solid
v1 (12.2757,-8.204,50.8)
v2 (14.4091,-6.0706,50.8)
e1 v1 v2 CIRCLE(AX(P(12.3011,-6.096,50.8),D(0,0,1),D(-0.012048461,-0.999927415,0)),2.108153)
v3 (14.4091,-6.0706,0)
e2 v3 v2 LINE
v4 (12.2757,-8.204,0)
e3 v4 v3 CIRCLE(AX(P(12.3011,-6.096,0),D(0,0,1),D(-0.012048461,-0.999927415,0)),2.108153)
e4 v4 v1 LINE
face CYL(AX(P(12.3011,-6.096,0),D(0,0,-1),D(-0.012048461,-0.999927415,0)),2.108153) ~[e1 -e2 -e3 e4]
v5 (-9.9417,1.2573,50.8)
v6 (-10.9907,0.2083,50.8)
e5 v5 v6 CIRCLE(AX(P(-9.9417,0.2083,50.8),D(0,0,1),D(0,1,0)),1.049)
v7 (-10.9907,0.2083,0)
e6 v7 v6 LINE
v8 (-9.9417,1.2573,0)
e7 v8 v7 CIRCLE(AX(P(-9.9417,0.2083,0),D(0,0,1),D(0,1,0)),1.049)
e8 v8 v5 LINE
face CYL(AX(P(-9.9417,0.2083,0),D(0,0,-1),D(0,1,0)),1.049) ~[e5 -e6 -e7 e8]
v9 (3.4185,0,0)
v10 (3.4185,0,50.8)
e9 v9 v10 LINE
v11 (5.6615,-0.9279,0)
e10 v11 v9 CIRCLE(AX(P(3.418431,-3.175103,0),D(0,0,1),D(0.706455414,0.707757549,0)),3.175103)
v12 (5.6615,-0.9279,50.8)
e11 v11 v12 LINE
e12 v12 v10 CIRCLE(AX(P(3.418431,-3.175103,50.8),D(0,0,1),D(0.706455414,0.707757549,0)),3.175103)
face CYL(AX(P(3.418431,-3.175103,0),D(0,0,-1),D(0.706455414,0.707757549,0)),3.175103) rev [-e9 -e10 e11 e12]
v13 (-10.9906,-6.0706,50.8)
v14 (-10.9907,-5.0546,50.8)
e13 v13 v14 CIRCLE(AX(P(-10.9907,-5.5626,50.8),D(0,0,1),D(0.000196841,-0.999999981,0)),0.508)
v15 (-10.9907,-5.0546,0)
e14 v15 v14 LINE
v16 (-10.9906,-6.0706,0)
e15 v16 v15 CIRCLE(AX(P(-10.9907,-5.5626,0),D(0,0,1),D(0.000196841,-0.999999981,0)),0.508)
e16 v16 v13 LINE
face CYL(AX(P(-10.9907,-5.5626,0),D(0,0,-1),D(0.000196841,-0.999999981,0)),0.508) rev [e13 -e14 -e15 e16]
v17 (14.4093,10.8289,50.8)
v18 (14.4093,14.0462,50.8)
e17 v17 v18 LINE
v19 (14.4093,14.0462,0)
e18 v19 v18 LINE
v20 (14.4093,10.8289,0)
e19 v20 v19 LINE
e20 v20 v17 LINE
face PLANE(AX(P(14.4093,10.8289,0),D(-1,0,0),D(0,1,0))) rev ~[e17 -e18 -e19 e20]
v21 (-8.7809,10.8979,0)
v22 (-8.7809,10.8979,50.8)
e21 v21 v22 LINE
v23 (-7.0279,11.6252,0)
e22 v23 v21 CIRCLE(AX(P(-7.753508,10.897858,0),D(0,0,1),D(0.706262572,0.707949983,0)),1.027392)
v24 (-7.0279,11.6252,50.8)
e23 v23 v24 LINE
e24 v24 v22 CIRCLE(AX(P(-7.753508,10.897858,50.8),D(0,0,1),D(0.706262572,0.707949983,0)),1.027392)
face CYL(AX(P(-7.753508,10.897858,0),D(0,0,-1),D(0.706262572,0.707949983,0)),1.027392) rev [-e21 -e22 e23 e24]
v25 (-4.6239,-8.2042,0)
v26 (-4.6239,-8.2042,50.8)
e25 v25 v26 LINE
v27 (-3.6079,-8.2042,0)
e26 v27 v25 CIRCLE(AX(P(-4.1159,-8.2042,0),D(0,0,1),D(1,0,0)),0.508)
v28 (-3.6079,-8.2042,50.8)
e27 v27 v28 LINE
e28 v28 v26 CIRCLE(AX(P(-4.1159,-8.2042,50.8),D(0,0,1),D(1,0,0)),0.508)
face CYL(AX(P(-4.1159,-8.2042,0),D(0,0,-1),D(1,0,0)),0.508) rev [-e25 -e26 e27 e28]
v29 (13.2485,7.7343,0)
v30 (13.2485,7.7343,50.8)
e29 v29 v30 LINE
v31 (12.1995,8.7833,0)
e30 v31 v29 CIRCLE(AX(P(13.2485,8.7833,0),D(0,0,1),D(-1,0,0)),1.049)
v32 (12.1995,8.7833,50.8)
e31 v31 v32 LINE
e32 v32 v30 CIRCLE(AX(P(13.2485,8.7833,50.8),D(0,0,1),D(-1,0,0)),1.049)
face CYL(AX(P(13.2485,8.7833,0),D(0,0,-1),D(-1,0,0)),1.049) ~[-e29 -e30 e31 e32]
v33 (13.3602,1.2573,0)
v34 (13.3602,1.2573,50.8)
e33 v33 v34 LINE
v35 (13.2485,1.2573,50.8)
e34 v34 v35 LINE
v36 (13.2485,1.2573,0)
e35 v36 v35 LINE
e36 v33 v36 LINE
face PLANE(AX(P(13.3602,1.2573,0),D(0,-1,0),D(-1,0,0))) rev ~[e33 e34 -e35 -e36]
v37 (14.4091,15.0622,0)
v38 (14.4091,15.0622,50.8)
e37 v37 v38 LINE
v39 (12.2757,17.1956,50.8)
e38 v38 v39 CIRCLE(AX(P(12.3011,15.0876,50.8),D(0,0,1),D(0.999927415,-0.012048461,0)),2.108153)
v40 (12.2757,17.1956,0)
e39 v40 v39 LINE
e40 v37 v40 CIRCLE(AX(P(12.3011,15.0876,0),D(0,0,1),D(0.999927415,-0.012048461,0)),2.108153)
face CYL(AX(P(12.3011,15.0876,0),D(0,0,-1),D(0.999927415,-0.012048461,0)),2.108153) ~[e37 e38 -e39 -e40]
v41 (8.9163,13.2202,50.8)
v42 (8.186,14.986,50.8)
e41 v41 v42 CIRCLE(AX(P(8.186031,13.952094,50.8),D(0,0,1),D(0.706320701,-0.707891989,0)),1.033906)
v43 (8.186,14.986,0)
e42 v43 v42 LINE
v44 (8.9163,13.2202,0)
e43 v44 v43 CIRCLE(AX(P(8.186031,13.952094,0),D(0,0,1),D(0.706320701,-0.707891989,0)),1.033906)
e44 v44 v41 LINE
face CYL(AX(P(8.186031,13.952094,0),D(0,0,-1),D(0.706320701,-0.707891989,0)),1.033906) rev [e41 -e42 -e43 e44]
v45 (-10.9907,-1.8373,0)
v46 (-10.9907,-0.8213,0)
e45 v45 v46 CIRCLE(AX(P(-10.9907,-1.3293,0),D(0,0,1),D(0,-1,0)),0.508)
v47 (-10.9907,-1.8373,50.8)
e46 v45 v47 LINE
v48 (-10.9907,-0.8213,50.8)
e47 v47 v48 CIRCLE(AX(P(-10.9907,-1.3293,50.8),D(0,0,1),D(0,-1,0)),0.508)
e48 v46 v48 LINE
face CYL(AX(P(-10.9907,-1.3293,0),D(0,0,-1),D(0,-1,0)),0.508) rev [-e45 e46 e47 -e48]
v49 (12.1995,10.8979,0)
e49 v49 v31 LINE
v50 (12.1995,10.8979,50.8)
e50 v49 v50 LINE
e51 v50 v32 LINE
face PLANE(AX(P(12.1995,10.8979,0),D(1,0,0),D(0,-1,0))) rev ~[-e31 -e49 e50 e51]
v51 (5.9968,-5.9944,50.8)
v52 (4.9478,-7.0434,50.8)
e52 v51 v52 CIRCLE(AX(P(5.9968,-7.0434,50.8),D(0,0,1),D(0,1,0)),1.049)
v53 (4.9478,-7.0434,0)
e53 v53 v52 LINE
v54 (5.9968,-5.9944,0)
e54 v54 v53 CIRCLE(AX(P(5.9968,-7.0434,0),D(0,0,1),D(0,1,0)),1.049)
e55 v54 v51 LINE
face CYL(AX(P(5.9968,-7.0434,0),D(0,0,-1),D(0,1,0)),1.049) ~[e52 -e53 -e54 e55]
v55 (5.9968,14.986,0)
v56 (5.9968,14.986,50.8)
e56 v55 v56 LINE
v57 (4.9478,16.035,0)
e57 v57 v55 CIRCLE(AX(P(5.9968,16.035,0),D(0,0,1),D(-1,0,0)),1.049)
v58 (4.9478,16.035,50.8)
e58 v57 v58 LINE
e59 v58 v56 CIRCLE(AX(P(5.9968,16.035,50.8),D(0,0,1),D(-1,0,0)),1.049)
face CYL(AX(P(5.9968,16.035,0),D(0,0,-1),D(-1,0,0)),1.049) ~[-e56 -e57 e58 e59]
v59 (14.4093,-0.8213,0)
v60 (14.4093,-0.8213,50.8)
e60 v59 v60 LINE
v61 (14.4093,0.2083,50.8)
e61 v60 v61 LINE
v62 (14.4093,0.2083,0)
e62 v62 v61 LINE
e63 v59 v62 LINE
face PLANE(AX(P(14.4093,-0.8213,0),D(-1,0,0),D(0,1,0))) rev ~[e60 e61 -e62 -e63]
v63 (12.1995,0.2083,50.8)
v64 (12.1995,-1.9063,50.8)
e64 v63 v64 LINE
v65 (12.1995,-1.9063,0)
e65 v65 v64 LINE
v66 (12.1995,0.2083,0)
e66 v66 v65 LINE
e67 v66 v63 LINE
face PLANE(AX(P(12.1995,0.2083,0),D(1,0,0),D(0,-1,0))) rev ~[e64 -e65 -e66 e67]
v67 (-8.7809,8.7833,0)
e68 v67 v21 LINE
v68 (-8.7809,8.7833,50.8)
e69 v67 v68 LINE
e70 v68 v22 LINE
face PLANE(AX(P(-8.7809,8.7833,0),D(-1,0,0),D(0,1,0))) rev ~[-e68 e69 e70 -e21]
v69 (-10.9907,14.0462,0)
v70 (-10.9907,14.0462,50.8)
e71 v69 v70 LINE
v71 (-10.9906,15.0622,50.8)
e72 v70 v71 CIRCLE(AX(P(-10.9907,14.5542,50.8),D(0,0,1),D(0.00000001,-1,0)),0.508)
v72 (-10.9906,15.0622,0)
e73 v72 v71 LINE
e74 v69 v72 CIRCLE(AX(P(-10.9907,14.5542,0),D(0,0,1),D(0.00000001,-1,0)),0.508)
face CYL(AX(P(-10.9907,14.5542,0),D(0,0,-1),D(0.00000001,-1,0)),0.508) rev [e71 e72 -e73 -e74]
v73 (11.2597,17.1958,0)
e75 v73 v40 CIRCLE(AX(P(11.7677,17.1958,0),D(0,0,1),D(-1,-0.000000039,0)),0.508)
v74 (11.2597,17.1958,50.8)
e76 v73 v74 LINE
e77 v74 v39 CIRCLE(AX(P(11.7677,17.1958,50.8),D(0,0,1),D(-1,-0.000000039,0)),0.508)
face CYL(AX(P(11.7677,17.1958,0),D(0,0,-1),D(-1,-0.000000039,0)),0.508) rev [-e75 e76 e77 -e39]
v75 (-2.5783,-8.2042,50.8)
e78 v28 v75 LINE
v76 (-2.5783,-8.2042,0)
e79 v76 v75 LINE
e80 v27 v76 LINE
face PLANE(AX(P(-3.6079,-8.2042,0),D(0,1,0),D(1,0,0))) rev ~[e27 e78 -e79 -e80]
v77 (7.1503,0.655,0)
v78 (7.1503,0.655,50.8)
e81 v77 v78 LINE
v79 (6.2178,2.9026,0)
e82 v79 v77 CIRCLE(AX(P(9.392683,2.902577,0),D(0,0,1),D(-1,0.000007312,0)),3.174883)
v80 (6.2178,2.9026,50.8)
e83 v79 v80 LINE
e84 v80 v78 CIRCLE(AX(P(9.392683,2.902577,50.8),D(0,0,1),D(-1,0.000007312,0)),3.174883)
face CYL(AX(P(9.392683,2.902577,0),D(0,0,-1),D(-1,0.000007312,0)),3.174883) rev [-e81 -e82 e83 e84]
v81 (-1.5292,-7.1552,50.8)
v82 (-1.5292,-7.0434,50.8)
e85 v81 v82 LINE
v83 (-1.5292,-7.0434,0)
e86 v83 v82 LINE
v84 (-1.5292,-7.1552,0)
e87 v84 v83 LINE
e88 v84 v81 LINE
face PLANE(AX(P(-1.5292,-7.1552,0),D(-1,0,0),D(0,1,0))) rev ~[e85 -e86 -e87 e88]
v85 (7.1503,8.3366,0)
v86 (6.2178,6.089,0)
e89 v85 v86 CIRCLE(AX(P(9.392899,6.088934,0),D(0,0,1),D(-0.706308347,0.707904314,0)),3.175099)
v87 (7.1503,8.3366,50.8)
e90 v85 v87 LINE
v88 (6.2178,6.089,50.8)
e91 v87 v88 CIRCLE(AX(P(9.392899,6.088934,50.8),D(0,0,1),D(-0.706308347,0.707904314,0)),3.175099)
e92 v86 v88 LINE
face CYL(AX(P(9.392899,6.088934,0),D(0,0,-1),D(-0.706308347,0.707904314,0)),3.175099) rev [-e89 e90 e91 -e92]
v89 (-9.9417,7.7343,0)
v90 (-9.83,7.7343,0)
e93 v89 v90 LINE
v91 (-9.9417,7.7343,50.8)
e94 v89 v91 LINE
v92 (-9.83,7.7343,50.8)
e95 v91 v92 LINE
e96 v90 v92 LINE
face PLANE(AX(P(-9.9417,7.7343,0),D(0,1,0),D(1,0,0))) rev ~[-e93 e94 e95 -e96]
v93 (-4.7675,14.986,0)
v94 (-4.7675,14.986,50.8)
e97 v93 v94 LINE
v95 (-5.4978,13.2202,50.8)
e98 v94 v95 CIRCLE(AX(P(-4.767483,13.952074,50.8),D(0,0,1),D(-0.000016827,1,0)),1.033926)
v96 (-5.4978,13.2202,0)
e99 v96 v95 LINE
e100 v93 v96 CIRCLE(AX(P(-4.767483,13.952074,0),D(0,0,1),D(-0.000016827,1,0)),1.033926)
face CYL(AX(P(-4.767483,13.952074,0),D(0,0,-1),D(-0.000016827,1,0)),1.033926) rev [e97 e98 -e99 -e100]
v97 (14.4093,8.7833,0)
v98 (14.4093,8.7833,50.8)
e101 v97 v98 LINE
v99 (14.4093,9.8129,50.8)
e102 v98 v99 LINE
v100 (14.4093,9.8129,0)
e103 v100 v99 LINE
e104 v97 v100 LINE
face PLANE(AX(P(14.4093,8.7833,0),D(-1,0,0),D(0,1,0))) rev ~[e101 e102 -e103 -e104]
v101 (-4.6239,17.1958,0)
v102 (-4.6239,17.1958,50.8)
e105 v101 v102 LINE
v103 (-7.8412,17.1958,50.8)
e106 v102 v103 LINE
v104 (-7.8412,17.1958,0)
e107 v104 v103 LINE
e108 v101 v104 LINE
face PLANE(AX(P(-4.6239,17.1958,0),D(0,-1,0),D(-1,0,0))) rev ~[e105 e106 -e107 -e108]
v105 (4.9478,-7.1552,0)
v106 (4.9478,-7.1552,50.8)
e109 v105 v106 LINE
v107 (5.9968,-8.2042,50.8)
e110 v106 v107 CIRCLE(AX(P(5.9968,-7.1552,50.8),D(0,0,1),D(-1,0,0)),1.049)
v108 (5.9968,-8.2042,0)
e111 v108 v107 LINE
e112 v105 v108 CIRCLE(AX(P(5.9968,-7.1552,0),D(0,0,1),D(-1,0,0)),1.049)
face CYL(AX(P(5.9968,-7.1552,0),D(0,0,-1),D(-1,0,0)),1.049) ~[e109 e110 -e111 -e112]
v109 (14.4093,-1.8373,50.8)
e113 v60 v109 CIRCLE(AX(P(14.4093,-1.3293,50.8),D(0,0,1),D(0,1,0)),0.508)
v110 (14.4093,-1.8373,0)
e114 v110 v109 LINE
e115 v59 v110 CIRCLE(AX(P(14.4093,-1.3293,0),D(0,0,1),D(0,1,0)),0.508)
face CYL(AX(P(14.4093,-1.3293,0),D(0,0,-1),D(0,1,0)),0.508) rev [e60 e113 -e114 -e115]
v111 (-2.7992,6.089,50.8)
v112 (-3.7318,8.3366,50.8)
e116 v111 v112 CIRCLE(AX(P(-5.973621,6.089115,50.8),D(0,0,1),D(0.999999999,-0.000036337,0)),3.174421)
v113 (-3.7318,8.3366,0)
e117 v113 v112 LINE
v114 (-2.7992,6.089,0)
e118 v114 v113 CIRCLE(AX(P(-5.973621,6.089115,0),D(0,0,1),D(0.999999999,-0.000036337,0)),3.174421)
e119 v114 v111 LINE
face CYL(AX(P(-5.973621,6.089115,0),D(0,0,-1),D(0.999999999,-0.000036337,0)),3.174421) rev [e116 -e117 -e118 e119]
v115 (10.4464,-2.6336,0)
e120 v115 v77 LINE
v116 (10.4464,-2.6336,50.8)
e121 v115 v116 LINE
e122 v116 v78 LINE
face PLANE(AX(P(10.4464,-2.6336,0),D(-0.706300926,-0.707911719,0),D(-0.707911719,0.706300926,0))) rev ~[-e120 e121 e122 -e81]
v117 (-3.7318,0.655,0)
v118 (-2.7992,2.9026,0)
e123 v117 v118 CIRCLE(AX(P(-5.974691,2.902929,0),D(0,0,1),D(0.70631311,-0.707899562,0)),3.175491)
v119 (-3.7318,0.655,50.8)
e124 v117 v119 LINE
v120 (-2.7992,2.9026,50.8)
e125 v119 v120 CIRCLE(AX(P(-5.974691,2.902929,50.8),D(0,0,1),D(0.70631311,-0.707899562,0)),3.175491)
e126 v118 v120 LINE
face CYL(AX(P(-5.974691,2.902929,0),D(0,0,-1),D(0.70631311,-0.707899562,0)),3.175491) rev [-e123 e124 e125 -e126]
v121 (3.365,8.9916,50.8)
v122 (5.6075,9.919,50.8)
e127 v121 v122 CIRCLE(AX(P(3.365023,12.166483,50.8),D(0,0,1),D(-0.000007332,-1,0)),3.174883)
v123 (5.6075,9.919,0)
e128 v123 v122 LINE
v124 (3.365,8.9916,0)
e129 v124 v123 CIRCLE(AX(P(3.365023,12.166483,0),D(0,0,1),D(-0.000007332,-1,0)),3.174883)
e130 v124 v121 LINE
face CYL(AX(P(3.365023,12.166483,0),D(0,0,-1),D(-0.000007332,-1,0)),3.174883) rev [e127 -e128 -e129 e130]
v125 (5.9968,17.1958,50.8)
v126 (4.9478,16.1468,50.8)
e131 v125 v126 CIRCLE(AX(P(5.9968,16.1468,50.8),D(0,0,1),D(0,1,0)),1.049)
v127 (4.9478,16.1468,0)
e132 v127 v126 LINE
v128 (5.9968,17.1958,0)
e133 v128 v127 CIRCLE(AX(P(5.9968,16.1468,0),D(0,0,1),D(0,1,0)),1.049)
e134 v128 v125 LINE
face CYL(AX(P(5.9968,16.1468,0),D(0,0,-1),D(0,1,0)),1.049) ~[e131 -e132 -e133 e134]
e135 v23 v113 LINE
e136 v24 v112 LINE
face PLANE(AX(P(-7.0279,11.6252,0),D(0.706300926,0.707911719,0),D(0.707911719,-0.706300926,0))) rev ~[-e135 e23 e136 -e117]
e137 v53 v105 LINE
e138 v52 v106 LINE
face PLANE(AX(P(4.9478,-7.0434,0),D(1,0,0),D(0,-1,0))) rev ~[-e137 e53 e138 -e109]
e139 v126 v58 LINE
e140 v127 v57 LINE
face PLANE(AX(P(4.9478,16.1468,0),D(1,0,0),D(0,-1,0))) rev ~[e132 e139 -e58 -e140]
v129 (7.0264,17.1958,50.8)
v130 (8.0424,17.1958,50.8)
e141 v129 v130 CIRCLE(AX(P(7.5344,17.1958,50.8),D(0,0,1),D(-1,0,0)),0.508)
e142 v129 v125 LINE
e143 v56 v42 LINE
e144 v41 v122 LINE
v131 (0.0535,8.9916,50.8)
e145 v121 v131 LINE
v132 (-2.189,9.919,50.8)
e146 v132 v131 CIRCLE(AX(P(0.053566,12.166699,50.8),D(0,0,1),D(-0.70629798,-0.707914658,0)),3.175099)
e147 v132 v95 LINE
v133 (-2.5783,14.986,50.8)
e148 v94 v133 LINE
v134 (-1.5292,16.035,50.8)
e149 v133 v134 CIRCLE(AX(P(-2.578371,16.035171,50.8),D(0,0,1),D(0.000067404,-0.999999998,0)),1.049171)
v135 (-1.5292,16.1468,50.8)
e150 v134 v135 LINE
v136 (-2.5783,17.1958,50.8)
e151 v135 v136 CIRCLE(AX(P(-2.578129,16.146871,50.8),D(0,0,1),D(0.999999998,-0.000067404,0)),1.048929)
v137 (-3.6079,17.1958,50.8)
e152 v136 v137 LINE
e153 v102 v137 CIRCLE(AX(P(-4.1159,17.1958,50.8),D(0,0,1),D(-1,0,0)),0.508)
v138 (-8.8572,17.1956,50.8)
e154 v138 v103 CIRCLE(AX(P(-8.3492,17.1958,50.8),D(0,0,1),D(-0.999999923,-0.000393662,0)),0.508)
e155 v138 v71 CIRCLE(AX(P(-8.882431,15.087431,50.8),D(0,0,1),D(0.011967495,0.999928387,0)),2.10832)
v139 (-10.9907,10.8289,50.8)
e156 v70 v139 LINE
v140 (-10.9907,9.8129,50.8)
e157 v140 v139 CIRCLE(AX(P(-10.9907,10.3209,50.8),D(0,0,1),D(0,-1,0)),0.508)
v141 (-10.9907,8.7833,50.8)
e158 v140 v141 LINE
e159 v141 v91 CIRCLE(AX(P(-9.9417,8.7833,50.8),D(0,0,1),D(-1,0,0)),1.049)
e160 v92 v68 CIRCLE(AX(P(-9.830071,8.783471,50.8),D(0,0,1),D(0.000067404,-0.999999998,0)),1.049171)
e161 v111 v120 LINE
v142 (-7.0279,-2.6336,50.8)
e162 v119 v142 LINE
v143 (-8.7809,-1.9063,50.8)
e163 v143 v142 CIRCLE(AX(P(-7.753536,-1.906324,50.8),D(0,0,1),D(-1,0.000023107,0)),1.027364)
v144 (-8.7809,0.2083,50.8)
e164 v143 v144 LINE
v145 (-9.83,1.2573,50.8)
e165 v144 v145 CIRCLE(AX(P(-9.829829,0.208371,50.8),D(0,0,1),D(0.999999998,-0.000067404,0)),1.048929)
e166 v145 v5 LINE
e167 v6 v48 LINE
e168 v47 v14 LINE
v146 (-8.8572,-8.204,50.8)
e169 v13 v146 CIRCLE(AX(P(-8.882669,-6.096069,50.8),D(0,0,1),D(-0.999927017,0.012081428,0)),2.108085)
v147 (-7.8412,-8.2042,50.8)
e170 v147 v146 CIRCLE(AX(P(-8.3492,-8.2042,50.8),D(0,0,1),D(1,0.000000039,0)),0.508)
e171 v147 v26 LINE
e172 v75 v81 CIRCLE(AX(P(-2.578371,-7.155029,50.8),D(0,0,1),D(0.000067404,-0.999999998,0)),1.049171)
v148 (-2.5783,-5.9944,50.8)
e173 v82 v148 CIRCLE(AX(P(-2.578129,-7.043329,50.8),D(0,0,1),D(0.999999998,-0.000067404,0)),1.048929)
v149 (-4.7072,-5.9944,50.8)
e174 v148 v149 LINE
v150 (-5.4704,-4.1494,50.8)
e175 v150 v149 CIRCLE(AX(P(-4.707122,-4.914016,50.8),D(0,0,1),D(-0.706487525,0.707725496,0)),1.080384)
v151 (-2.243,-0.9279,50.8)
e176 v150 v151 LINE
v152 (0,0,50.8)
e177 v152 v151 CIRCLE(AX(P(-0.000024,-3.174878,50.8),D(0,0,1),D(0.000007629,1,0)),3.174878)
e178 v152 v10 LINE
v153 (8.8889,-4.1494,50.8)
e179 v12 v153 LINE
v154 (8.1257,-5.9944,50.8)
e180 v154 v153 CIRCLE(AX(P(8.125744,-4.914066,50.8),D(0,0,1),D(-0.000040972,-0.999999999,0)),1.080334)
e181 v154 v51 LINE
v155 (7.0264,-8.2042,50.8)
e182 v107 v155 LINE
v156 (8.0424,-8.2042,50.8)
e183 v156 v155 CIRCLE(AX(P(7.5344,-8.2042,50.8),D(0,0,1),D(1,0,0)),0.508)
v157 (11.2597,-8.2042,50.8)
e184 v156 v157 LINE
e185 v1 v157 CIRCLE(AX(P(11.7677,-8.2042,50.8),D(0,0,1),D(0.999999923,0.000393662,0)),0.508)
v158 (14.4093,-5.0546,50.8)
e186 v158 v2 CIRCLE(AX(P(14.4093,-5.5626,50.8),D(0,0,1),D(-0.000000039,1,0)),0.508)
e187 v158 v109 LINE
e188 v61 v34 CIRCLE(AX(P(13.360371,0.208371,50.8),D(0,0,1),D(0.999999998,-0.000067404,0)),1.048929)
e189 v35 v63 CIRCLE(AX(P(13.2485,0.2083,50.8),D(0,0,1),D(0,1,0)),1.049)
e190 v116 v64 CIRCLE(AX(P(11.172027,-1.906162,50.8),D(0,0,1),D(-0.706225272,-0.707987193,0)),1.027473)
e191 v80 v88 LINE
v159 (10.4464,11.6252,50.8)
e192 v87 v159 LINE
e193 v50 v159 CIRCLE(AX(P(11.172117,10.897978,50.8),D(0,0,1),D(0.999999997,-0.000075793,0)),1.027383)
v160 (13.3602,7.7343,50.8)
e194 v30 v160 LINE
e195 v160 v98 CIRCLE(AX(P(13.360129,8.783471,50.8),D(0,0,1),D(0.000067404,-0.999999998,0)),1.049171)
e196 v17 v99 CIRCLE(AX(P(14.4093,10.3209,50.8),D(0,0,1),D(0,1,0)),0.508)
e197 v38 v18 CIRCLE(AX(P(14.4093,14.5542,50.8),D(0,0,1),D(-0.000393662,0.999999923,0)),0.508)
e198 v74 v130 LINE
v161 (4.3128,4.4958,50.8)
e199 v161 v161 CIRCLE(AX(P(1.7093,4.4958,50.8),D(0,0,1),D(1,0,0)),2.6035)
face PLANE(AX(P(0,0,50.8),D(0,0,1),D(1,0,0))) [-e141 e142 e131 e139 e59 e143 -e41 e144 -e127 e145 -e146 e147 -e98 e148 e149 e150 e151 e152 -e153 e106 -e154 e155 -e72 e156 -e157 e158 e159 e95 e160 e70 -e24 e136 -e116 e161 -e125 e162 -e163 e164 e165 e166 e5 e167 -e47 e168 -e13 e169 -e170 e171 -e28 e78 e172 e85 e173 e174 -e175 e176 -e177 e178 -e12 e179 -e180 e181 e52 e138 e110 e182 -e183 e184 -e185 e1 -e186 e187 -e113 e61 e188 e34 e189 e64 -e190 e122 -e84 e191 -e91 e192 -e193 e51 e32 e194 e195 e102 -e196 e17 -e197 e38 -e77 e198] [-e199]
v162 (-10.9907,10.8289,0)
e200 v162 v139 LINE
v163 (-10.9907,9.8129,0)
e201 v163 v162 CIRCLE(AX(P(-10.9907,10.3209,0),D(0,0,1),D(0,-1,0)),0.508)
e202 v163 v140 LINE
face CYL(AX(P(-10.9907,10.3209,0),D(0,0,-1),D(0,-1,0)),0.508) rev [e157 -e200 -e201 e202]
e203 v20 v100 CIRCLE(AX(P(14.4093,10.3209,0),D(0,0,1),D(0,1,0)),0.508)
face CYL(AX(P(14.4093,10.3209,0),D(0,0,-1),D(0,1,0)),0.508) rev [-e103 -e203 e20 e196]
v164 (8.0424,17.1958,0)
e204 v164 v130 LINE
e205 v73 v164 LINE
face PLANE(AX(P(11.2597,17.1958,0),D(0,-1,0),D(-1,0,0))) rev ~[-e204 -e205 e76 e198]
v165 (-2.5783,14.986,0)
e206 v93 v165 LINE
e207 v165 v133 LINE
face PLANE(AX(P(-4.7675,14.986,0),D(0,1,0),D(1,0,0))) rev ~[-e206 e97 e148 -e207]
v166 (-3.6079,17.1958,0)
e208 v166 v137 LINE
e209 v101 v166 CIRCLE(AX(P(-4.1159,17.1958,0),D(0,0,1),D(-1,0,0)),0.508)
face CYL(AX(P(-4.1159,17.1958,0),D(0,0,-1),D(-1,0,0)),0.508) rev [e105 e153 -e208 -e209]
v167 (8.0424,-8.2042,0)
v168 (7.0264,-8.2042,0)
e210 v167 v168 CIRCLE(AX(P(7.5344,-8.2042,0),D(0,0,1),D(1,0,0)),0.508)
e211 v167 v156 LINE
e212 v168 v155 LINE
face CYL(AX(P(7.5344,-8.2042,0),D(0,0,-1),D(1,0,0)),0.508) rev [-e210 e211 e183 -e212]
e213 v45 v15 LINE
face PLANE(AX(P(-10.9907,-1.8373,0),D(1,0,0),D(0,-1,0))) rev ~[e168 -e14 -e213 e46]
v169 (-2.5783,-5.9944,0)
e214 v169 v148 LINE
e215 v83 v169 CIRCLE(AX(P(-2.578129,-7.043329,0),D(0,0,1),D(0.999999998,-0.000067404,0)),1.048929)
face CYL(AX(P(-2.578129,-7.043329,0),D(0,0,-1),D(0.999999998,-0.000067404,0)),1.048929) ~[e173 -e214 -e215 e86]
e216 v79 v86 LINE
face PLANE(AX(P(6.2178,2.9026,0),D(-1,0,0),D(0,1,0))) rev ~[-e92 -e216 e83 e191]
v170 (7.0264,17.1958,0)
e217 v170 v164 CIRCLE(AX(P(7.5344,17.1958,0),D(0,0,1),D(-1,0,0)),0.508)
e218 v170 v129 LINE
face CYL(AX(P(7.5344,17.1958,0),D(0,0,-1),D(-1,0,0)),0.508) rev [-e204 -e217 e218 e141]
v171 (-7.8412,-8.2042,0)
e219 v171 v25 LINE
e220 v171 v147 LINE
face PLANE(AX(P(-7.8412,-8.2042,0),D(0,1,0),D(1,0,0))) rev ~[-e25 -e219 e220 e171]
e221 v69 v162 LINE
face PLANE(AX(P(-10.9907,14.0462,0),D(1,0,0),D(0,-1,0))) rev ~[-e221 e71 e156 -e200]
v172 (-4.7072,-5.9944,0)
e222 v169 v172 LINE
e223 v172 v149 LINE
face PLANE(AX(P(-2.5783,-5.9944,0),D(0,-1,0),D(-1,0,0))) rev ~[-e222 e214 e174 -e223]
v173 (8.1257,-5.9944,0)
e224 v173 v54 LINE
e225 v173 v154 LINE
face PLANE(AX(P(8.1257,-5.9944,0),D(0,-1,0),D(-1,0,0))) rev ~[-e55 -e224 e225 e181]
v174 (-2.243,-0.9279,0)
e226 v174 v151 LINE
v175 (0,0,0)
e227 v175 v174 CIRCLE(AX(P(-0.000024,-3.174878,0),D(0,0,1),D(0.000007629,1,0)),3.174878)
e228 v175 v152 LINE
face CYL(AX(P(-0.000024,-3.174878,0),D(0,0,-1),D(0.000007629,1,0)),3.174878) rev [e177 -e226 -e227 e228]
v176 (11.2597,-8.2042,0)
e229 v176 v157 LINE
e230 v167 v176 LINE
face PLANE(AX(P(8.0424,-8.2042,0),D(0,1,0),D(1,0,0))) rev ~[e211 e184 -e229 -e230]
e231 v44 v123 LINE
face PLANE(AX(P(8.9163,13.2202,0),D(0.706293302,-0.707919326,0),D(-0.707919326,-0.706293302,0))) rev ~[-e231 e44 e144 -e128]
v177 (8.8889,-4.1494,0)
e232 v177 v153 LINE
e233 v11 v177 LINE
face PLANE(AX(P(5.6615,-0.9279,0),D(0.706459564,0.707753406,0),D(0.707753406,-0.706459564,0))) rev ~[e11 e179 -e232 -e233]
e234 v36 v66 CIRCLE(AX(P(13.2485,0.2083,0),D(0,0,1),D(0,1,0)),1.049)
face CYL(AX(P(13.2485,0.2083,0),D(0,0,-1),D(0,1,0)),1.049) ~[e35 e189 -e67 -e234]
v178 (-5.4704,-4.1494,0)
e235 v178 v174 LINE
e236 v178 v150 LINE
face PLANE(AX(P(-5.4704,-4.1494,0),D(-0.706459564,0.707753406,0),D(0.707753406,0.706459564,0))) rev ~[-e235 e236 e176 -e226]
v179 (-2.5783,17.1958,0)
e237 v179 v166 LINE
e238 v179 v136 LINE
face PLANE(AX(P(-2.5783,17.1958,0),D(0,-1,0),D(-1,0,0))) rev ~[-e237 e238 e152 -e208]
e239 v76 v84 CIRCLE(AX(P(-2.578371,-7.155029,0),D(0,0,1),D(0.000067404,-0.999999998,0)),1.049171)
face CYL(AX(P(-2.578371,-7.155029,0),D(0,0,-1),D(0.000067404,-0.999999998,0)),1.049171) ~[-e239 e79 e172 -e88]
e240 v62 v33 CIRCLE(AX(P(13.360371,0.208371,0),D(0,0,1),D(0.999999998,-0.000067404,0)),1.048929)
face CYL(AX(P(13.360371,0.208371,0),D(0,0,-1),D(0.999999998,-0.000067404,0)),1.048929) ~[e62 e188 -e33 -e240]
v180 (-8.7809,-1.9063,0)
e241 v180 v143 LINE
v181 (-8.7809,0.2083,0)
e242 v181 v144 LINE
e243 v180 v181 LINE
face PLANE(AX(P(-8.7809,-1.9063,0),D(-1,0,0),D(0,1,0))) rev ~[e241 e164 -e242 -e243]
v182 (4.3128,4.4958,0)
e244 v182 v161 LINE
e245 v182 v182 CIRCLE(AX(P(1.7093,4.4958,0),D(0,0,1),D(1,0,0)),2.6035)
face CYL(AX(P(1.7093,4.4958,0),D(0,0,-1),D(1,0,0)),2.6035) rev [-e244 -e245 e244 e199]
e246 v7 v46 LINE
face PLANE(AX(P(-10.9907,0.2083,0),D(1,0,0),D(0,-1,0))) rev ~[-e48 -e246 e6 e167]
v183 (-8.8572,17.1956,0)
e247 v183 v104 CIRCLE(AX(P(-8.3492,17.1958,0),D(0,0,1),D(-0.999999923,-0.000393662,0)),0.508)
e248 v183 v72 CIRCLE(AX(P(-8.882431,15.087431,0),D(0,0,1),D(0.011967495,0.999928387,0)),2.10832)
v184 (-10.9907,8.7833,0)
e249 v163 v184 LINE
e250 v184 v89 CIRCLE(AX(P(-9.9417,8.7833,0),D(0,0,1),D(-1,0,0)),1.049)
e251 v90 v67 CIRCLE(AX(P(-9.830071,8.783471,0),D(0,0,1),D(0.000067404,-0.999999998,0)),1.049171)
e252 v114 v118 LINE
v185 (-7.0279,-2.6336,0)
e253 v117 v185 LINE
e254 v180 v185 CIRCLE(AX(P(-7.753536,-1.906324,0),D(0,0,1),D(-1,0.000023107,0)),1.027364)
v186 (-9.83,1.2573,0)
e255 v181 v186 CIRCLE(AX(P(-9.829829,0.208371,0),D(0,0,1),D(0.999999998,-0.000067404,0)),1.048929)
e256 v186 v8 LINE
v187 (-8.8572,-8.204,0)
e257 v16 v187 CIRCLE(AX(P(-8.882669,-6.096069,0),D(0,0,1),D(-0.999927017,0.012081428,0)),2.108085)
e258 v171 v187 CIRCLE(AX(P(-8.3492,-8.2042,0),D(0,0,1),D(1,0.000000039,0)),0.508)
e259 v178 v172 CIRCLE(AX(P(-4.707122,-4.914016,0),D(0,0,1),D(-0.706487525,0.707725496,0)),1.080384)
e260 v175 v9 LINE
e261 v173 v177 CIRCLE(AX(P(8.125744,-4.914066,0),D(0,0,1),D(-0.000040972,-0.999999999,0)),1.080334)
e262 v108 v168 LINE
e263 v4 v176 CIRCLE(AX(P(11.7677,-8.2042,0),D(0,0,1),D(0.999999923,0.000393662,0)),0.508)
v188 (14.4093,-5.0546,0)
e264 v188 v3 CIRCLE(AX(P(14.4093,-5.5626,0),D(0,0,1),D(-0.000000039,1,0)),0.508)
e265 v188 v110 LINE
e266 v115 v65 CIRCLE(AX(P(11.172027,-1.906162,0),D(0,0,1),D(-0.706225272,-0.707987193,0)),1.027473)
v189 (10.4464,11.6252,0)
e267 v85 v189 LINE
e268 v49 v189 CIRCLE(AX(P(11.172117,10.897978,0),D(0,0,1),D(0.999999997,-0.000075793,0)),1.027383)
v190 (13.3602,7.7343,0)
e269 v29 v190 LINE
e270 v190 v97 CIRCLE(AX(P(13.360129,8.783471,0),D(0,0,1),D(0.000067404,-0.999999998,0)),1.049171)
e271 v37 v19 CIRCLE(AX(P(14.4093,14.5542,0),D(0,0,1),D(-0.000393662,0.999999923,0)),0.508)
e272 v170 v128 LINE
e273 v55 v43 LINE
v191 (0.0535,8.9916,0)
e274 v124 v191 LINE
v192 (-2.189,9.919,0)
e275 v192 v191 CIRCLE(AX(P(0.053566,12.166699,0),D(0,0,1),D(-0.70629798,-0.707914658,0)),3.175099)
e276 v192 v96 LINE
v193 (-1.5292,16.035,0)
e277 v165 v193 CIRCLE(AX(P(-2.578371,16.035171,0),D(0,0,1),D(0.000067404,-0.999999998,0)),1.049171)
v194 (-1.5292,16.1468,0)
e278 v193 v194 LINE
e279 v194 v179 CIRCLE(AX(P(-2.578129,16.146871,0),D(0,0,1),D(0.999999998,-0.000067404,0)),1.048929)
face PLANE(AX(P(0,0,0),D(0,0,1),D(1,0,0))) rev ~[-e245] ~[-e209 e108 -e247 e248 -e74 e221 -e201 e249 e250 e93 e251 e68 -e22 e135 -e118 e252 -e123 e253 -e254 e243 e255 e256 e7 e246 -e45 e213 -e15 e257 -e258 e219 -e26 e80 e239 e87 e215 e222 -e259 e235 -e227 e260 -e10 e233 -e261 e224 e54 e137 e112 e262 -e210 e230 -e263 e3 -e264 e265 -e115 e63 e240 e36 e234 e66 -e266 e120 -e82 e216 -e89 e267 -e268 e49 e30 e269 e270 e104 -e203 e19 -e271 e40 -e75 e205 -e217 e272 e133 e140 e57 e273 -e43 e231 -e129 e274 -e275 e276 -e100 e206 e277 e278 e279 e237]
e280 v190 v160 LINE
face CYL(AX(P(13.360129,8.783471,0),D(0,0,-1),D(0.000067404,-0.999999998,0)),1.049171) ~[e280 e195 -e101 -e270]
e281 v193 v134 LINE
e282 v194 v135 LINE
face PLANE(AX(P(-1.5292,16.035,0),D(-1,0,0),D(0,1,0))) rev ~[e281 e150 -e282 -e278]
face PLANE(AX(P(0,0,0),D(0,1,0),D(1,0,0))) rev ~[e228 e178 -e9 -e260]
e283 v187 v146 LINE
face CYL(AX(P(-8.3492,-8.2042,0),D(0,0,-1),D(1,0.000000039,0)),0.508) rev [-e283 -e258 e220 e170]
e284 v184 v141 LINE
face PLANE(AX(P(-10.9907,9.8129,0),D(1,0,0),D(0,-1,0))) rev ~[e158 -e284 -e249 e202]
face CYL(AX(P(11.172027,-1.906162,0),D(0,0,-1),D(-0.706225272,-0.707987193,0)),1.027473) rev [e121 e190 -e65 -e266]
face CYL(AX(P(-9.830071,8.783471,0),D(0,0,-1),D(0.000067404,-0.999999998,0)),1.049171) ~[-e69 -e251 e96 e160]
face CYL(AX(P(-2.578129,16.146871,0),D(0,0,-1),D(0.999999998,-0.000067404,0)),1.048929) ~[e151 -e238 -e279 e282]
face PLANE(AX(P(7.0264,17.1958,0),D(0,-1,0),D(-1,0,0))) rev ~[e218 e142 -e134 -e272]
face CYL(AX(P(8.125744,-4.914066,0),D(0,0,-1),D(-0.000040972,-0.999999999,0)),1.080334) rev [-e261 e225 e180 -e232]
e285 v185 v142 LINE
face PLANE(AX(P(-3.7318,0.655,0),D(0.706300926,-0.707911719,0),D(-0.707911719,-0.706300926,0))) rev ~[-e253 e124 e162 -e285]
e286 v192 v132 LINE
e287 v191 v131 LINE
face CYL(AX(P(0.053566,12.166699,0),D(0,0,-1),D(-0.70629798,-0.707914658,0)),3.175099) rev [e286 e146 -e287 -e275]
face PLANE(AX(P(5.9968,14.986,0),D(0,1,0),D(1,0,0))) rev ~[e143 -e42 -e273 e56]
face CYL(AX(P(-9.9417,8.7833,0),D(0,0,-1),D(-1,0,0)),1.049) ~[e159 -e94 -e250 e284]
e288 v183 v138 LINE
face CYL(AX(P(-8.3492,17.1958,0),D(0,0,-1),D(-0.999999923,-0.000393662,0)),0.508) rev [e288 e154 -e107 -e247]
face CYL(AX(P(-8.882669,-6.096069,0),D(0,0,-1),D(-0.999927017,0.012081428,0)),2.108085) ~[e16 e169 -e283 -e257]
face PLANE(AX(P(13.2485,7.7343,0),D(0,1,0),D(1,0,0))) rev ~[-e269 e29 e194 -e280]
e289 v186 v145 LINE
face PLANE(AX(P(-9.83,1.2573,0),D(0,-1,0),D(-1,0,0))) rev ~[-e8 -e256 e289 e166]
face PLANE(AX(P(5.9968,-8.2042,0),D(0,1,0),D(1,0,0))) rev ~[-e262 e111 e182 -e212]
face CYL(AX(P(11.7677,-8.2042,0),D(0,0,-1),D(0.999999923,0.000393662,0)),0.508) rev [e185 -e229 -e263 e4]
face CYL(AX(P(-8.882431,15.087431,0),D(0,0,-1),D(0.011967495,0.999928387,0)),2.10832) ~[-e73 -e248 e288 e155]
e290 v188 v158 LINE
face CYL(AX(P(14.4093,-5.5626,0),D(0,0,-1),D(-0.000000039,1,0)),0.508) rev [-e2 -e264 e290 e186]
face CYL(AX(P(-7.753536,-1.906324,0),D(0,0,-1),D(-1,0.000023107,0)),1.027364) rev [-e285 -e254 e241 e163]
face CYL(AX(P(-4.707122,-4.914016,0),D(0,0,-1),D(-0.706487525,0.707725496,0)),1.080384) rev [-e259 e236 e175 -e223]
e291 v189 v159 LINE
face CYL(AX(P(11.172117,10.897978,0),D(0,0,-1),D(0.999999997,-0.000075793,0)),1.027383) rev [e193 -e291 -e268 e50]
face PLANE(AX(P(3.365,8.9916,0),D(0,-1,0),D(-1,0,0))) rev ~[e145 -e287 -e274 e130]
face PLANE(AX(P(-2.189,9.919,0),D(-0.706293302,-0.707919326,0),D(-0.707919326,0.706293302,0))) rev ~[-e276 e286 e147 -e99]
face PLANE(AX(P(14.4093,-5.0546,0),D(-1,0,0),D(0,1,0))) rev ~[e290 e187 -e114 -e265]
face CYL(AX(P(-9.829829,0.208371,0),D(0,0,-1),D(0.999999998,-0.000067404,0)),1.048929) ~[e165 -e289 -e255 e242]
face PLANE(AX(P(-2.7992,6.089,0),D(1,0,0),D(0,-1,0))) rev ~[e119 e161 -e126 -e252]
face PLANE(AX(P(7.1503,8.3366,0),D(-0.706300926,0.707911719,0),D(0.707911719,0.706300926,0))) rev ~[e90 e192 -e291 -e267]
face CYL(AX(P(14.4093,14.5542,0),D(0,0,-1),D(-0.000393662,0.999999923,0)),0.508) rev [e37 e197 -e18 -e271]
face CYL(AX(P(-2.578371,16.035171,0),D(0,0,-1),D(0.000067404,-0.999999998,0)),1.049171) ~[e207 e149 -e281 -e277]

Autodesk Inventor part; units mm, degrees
ref_plane "YZ Plane" through (0, 0, 0) normal (1, 0, 0) x (0, 1, 0)
ref_plane "XZ Plane" through (0, 0, 0) normal (0, 1, 0) x (-1, 0, 0)
ref_plane "XY Plane" through (0, 0, 0) normal (0, 0, 1) x (1, 0, 0)
sketch "Sketch1" plane through (0, 0, 0) normal (0, 0, 1) x (1, 0, 0)
  arc A0 (-5.4704, -4.1494) -> (-4.7072, -5.9944) centre (-4.7072, -4.914) ccw
  line L0 (-5.4704, -4.1494) -> (-2.243, -0.9279)
  arc A1 (0, 0) -> (-2.243, -0.9279) centre (0, -3.175) ccw
  line L1 (0, 0) -> (3.4185, 0)
  arc A2 (5.6615, -0.9279) -> (3.4185, 0) centre (3.4185, -3.175) ccw
  line L2 (5.6615, -0.9279) -> (8.8889, -4.1494)
  arc A3 (8.1257, -5.9944) -> (8.8889, -4.1494) centre (8.1257, -4.914) ccw
  line L3 (8.1257, -5.9944) -> (5.9968, -5.9944)
  arc A4 (5.9968, -5.9944) -> (4.9478, -7.0434) centre (5.9968, -7.0434) ccw
  line L4 (4.9478, -7.0434) -> (4.9478, -7.1552)
  arc A5 (4.9478, -7.1552) -> (5.9968, -8.2042) centre (5.9968, -7.1552) ccw
  line L5 (5.9968, -8.2042) -> (7.0264, -8.2042)
  arc A6 (8.0424, -8.2042) -> (7.0264, -8.2042) centre (7.5344, -8.2042) ccw
  line L6 (8.0424, -8.2042) -> (11.2597, -8.2042)
  arc A7 (12.2757, -8.204) -> (11.2597, -8.2042) centre (11.7677, -8.2042) ccw
  arc A8 (12.2757, -8.204) -> (14.4091, -6.0706) centre (12.3011, -6.096) ccw
  arc A9 (14.4093, -5.0546) -> (14.4091, -6.0706) centre (14.4093, -5.5626) ccw
  line L7 (14.4093, -5.0546) -> (14.4093, -1.8373)
  arc A10 (14.4093, -0.8213) -> (14.4093, -1.8373) centre (14.4093, -1.3293) ccw
  line L8 (14.4093, -0.8213) -> (14.4093, 0.2083)
  arc A11 (14.4093, 0.2083) -> (13.3602, 1.2573) centre (13.3602, 0.2083) ccw
  line L9 (13.3602, 1.2573) -> (13.2485, 1.2573)
  arc A12 (13.2485, 1.2573) -> (12.1995, 0.2083) centre (13.2485, 0.2083) ccw
  line L10 (12.1995, 0.2083) -> (12.1995, -1.9063)
  arc A13 (10.4464, -2.6336) -> (12.1995, -1.9063) centre (11.172, -1.9063) ccw
  line L11 (10.4464, -2.6336) -> (7.1503, 0.655)
  arc A14 (6.2178, 2.9026) -> (7.1503, 0.655) centre (9.3928, 2.9026) ccw
  line L12 (6.2178, 2.9026) -> (6.2178, 6.089)
  arc A15 (7.1503, 8.3366) -> (6.2178, 6.089) centre (9.3928, 6.089) ccw
  line L13 (7.1503, 8.3366) -> (10.4464, 11.6252)
  arc A16 (12.1995, 10.8979) -> (10.4464, 11.6252) centre (11.172, 10.8979) ccw
  line L14 (12.1995, 10.8979) -> (12.1995, 8.7833)
  arc A17 (12.1995, 8.7833) -> (13.2485, 7.7343) centre (13.2485, 8.7833) ccw
  line L15 (13.2485, 7.7343) -> (13.3602, 7.7343)
  arc A18 (13.3602, 7.7343) -> (14.4093, 8.7833) centre (13.3602, 8.7833) ccw
  line L16 (14.4093, 8.7833) -> (14.4093, 9.8129)
  arc A19 (14.4093, 10.8289) -> (14.4093, 9.8129) centre (14.4093, 10.3209) ccw
  line L17 (14.4093, 10.8289) -> (14.4093, 14.0462)
  arc A20 (14.4091, 15.0622) -> (14.4093, 14.0462) centre (14.4093, 14.5542) ccw
  arc A21 (14.4091, 15.0622) -> (12.2757, 17.1956) centre (12.3011, 15.0876) ccw
  arc A22 (11.2597, 17.1958) -> (12.2757, 17.1956) centre (11.7677, 17.1958) ccw
  line L18 (11.2597, 17.1958) -> (8.0424, 17.1958)
  arc A23 (7.0264, 17.1958) -> (8.0424, 17.1958) centre (7.5344, 17.1958) ccw
  line L19 (7.0264, 17.1958) -> (5.9968, 17.1958)
  arc A24 (5.9968, 17.1958) -> (4.9478, 16.1468) centre (5.9968, 16.1468) ccw
  line L20 (4.9478, 16.1468) -> (4.9478, 16.035)
  arc A25 (4.9478, 16.035) -> (5.9968, 14.986) centre (5.9968, 16.035) ccw
  line L21 (5.9968, 14.986) -> (8.186, 14.986)
  arc A26 (8.9163, 13.2202) -> (8.186, 14.986) centre (8.186, 13.9521) ccw
  line L22 (8.9163, 13.2202) -> (5.6075, 9.919)
  arc A27 (3.365, 8.9916) -> (5.6075, 9.919) centre (3.365, 12.1666) ccw
  line L23 (3.365, 8.9916) -> (0.0535, 8.9916)
  arc A28 (-2.189, 9.919) -> (0.0535, 8.9916) centre (0.0535, 12.1666) ccw
  line L24 (-2.189, 9.919) -> (-5.4978, 13.2202)
  arc A29 (-4.7675, 14.986) -> (-5.4978, 13.2202) centre (-4.7675, 13.9521) ccw
  line L25 (-4.7675, 14.986) -> (-2.5783, 14.986)
  arc A30 (-2.5783, 14.986) -> (-1.5292, 16.035) centre (-2.5783, 16.035) ccw
  line L26 (-1.5292, 16.035) -> (-1.5292, 16.1468)
  arc A31 (-1.5292, 16.1468) -> (-2.5783, 17.1958) centre (-2.5783, 16.1468) ccw
  line L27 (-2.5783, 17.1958) -> (-3.6079, 17.1958)
  arc A32 (-4.6239, 17.1958) -> (-3.6079, 17.1958) centre (-4.1159, 17.1958) ccw
  line L28 (-4.6239, 17.1958) -> (-7.8412, 17.1958)
  arc A33 (-8.8572, 17.1956) -> (-7.8412, 17.1958) centre (-8.3492, 17.1958) ccw
  arc A34 (-8.8572, 17.1956) -> (-10.9906, 15.0622) centre (-8.8825, 15.0876) ccw
  arc A35 (-10.9907, 14.0462) -> (-10.9906, 15.0622) centre (-10.9907, 14.5542) ccw
  line L29 (-10.9907, 14.0462) -> (-10.9907, 10.8289)
  arc A36 (-10.9907, 9.8129) -> (-10.9907, 10.8289) centre (-10.9907, 10.3209) ccw
  line L30 (-10.9907, 9.8129) -> (-10.9907, 8.7833)
  arc A37 (-10.9907, 8.7833) -> (-9.9417, 7.7343) centre (-9.9417, 8.7833) ccw
  line L31 (-9.9417, 7.7343) -> (-9.83, 7.7343)
  arc A38 (-9.83, 7.7343) -> (-8.7809, 8.7833) centre (-9.83, 8.7833) ccw
  line L32 (-8.7809, 8.7833) -> (-8.7809, 10.8979)
  arc A39 (-7.0279, 11.6252) -> (-8.7809, 10.8979) centre (-7.7535, 10.8979) ccw
  line L33 (-7.0279, 11.6252) -> (-3.7318, 8.3366)
  arc A40 (-2.7992, 6.089) -> (-3.7318, 8.3366) centre (-5.9742, 6.089) ccw
  line L34 (-2.7992, 6.089) -> (-2.7992, 2.9026)
  arc A41 (-3.7318, 0.655) -> (-2.7992, 2.9026) centre (-5.9742, 2.9026) ccw
  line L35 (-3.7318, 0.655) -> (-7.0279, -2.6336)
  arc A42 (-8.7809, -1.9063) -> (-7.0279, -2.6336) centre (-7.7535, -1.9063) ccw
  line L36 (-8.7809, -1.9063) -> (-8.7809, 0.2083)
  arc A43 (-8.7809, 0.2083) -> (-9.83, 1.2573) centre (-9.83, 0.2083) ccw
  line L37 (-9.83, 1.2573) -> (-9.9417, 1.2573)
  arc A44 (-9.9417, 1.2573) -> (-10.9907, 0.2083) centre (-9.9417, 0.2083) ccw
  line L38 (-10.9907, 0.2083) -> (-10.9907, -0.8213)
  arc A45 (-10.9907, -1.8373) -> (-10.9907, -0.8213) centre (-10.9907, -1.3293) ccw
  line L39 (-10.9907, -1.8373) -> (-10.9907, -5.0546)
  arc A46 (-10.9906, -6.0706) -> (-10.9907, -5.0546) centre (-10.9907, -5.5626) ccw
  arc A47 (-10.9906, -6.0706) -> (-8.8572, -8.204) centre (-8.8825, -6.096) ccw
  arc A48 (-7.8412, -8.2042) -> (-8.8572, -8.204) centre (-8.3492, -8.2042) ccw
  line L40 (-7.8412, -8.2042) -> (-4.6239, -8.2042)
  arc A49 (-3.6079, -8.2042) -> (-4.6239, -8.2042) centre (-4.1159, -8.2042) ccw
  line L41 (-3.6079, -8.2042) -> (-2.5783, -8.2042)
  arc A50 (-2.5783, -8.2042) -> (-1.5292, -7.1552) centre (-2.5783, -7.1552) ccw
  line L42 (-1.5292, -7.1552) -> (-1.5292, -7.0434)
  arc A51 (-1.5292, -7.0434) -> (-2.5783, -5.9944) centre (-2.5783, -7.0434) ccw
  line L43 (-2.5783, -5.9944) -> (-4.7072, -5.9944)
  circle A52 centre (1.7093, 4.4958) radius 2.6035
extrude "Extrusion1" add sketch "Sketch1" along normal blind 50.8
properties part number "2in 1x1 T slot"
